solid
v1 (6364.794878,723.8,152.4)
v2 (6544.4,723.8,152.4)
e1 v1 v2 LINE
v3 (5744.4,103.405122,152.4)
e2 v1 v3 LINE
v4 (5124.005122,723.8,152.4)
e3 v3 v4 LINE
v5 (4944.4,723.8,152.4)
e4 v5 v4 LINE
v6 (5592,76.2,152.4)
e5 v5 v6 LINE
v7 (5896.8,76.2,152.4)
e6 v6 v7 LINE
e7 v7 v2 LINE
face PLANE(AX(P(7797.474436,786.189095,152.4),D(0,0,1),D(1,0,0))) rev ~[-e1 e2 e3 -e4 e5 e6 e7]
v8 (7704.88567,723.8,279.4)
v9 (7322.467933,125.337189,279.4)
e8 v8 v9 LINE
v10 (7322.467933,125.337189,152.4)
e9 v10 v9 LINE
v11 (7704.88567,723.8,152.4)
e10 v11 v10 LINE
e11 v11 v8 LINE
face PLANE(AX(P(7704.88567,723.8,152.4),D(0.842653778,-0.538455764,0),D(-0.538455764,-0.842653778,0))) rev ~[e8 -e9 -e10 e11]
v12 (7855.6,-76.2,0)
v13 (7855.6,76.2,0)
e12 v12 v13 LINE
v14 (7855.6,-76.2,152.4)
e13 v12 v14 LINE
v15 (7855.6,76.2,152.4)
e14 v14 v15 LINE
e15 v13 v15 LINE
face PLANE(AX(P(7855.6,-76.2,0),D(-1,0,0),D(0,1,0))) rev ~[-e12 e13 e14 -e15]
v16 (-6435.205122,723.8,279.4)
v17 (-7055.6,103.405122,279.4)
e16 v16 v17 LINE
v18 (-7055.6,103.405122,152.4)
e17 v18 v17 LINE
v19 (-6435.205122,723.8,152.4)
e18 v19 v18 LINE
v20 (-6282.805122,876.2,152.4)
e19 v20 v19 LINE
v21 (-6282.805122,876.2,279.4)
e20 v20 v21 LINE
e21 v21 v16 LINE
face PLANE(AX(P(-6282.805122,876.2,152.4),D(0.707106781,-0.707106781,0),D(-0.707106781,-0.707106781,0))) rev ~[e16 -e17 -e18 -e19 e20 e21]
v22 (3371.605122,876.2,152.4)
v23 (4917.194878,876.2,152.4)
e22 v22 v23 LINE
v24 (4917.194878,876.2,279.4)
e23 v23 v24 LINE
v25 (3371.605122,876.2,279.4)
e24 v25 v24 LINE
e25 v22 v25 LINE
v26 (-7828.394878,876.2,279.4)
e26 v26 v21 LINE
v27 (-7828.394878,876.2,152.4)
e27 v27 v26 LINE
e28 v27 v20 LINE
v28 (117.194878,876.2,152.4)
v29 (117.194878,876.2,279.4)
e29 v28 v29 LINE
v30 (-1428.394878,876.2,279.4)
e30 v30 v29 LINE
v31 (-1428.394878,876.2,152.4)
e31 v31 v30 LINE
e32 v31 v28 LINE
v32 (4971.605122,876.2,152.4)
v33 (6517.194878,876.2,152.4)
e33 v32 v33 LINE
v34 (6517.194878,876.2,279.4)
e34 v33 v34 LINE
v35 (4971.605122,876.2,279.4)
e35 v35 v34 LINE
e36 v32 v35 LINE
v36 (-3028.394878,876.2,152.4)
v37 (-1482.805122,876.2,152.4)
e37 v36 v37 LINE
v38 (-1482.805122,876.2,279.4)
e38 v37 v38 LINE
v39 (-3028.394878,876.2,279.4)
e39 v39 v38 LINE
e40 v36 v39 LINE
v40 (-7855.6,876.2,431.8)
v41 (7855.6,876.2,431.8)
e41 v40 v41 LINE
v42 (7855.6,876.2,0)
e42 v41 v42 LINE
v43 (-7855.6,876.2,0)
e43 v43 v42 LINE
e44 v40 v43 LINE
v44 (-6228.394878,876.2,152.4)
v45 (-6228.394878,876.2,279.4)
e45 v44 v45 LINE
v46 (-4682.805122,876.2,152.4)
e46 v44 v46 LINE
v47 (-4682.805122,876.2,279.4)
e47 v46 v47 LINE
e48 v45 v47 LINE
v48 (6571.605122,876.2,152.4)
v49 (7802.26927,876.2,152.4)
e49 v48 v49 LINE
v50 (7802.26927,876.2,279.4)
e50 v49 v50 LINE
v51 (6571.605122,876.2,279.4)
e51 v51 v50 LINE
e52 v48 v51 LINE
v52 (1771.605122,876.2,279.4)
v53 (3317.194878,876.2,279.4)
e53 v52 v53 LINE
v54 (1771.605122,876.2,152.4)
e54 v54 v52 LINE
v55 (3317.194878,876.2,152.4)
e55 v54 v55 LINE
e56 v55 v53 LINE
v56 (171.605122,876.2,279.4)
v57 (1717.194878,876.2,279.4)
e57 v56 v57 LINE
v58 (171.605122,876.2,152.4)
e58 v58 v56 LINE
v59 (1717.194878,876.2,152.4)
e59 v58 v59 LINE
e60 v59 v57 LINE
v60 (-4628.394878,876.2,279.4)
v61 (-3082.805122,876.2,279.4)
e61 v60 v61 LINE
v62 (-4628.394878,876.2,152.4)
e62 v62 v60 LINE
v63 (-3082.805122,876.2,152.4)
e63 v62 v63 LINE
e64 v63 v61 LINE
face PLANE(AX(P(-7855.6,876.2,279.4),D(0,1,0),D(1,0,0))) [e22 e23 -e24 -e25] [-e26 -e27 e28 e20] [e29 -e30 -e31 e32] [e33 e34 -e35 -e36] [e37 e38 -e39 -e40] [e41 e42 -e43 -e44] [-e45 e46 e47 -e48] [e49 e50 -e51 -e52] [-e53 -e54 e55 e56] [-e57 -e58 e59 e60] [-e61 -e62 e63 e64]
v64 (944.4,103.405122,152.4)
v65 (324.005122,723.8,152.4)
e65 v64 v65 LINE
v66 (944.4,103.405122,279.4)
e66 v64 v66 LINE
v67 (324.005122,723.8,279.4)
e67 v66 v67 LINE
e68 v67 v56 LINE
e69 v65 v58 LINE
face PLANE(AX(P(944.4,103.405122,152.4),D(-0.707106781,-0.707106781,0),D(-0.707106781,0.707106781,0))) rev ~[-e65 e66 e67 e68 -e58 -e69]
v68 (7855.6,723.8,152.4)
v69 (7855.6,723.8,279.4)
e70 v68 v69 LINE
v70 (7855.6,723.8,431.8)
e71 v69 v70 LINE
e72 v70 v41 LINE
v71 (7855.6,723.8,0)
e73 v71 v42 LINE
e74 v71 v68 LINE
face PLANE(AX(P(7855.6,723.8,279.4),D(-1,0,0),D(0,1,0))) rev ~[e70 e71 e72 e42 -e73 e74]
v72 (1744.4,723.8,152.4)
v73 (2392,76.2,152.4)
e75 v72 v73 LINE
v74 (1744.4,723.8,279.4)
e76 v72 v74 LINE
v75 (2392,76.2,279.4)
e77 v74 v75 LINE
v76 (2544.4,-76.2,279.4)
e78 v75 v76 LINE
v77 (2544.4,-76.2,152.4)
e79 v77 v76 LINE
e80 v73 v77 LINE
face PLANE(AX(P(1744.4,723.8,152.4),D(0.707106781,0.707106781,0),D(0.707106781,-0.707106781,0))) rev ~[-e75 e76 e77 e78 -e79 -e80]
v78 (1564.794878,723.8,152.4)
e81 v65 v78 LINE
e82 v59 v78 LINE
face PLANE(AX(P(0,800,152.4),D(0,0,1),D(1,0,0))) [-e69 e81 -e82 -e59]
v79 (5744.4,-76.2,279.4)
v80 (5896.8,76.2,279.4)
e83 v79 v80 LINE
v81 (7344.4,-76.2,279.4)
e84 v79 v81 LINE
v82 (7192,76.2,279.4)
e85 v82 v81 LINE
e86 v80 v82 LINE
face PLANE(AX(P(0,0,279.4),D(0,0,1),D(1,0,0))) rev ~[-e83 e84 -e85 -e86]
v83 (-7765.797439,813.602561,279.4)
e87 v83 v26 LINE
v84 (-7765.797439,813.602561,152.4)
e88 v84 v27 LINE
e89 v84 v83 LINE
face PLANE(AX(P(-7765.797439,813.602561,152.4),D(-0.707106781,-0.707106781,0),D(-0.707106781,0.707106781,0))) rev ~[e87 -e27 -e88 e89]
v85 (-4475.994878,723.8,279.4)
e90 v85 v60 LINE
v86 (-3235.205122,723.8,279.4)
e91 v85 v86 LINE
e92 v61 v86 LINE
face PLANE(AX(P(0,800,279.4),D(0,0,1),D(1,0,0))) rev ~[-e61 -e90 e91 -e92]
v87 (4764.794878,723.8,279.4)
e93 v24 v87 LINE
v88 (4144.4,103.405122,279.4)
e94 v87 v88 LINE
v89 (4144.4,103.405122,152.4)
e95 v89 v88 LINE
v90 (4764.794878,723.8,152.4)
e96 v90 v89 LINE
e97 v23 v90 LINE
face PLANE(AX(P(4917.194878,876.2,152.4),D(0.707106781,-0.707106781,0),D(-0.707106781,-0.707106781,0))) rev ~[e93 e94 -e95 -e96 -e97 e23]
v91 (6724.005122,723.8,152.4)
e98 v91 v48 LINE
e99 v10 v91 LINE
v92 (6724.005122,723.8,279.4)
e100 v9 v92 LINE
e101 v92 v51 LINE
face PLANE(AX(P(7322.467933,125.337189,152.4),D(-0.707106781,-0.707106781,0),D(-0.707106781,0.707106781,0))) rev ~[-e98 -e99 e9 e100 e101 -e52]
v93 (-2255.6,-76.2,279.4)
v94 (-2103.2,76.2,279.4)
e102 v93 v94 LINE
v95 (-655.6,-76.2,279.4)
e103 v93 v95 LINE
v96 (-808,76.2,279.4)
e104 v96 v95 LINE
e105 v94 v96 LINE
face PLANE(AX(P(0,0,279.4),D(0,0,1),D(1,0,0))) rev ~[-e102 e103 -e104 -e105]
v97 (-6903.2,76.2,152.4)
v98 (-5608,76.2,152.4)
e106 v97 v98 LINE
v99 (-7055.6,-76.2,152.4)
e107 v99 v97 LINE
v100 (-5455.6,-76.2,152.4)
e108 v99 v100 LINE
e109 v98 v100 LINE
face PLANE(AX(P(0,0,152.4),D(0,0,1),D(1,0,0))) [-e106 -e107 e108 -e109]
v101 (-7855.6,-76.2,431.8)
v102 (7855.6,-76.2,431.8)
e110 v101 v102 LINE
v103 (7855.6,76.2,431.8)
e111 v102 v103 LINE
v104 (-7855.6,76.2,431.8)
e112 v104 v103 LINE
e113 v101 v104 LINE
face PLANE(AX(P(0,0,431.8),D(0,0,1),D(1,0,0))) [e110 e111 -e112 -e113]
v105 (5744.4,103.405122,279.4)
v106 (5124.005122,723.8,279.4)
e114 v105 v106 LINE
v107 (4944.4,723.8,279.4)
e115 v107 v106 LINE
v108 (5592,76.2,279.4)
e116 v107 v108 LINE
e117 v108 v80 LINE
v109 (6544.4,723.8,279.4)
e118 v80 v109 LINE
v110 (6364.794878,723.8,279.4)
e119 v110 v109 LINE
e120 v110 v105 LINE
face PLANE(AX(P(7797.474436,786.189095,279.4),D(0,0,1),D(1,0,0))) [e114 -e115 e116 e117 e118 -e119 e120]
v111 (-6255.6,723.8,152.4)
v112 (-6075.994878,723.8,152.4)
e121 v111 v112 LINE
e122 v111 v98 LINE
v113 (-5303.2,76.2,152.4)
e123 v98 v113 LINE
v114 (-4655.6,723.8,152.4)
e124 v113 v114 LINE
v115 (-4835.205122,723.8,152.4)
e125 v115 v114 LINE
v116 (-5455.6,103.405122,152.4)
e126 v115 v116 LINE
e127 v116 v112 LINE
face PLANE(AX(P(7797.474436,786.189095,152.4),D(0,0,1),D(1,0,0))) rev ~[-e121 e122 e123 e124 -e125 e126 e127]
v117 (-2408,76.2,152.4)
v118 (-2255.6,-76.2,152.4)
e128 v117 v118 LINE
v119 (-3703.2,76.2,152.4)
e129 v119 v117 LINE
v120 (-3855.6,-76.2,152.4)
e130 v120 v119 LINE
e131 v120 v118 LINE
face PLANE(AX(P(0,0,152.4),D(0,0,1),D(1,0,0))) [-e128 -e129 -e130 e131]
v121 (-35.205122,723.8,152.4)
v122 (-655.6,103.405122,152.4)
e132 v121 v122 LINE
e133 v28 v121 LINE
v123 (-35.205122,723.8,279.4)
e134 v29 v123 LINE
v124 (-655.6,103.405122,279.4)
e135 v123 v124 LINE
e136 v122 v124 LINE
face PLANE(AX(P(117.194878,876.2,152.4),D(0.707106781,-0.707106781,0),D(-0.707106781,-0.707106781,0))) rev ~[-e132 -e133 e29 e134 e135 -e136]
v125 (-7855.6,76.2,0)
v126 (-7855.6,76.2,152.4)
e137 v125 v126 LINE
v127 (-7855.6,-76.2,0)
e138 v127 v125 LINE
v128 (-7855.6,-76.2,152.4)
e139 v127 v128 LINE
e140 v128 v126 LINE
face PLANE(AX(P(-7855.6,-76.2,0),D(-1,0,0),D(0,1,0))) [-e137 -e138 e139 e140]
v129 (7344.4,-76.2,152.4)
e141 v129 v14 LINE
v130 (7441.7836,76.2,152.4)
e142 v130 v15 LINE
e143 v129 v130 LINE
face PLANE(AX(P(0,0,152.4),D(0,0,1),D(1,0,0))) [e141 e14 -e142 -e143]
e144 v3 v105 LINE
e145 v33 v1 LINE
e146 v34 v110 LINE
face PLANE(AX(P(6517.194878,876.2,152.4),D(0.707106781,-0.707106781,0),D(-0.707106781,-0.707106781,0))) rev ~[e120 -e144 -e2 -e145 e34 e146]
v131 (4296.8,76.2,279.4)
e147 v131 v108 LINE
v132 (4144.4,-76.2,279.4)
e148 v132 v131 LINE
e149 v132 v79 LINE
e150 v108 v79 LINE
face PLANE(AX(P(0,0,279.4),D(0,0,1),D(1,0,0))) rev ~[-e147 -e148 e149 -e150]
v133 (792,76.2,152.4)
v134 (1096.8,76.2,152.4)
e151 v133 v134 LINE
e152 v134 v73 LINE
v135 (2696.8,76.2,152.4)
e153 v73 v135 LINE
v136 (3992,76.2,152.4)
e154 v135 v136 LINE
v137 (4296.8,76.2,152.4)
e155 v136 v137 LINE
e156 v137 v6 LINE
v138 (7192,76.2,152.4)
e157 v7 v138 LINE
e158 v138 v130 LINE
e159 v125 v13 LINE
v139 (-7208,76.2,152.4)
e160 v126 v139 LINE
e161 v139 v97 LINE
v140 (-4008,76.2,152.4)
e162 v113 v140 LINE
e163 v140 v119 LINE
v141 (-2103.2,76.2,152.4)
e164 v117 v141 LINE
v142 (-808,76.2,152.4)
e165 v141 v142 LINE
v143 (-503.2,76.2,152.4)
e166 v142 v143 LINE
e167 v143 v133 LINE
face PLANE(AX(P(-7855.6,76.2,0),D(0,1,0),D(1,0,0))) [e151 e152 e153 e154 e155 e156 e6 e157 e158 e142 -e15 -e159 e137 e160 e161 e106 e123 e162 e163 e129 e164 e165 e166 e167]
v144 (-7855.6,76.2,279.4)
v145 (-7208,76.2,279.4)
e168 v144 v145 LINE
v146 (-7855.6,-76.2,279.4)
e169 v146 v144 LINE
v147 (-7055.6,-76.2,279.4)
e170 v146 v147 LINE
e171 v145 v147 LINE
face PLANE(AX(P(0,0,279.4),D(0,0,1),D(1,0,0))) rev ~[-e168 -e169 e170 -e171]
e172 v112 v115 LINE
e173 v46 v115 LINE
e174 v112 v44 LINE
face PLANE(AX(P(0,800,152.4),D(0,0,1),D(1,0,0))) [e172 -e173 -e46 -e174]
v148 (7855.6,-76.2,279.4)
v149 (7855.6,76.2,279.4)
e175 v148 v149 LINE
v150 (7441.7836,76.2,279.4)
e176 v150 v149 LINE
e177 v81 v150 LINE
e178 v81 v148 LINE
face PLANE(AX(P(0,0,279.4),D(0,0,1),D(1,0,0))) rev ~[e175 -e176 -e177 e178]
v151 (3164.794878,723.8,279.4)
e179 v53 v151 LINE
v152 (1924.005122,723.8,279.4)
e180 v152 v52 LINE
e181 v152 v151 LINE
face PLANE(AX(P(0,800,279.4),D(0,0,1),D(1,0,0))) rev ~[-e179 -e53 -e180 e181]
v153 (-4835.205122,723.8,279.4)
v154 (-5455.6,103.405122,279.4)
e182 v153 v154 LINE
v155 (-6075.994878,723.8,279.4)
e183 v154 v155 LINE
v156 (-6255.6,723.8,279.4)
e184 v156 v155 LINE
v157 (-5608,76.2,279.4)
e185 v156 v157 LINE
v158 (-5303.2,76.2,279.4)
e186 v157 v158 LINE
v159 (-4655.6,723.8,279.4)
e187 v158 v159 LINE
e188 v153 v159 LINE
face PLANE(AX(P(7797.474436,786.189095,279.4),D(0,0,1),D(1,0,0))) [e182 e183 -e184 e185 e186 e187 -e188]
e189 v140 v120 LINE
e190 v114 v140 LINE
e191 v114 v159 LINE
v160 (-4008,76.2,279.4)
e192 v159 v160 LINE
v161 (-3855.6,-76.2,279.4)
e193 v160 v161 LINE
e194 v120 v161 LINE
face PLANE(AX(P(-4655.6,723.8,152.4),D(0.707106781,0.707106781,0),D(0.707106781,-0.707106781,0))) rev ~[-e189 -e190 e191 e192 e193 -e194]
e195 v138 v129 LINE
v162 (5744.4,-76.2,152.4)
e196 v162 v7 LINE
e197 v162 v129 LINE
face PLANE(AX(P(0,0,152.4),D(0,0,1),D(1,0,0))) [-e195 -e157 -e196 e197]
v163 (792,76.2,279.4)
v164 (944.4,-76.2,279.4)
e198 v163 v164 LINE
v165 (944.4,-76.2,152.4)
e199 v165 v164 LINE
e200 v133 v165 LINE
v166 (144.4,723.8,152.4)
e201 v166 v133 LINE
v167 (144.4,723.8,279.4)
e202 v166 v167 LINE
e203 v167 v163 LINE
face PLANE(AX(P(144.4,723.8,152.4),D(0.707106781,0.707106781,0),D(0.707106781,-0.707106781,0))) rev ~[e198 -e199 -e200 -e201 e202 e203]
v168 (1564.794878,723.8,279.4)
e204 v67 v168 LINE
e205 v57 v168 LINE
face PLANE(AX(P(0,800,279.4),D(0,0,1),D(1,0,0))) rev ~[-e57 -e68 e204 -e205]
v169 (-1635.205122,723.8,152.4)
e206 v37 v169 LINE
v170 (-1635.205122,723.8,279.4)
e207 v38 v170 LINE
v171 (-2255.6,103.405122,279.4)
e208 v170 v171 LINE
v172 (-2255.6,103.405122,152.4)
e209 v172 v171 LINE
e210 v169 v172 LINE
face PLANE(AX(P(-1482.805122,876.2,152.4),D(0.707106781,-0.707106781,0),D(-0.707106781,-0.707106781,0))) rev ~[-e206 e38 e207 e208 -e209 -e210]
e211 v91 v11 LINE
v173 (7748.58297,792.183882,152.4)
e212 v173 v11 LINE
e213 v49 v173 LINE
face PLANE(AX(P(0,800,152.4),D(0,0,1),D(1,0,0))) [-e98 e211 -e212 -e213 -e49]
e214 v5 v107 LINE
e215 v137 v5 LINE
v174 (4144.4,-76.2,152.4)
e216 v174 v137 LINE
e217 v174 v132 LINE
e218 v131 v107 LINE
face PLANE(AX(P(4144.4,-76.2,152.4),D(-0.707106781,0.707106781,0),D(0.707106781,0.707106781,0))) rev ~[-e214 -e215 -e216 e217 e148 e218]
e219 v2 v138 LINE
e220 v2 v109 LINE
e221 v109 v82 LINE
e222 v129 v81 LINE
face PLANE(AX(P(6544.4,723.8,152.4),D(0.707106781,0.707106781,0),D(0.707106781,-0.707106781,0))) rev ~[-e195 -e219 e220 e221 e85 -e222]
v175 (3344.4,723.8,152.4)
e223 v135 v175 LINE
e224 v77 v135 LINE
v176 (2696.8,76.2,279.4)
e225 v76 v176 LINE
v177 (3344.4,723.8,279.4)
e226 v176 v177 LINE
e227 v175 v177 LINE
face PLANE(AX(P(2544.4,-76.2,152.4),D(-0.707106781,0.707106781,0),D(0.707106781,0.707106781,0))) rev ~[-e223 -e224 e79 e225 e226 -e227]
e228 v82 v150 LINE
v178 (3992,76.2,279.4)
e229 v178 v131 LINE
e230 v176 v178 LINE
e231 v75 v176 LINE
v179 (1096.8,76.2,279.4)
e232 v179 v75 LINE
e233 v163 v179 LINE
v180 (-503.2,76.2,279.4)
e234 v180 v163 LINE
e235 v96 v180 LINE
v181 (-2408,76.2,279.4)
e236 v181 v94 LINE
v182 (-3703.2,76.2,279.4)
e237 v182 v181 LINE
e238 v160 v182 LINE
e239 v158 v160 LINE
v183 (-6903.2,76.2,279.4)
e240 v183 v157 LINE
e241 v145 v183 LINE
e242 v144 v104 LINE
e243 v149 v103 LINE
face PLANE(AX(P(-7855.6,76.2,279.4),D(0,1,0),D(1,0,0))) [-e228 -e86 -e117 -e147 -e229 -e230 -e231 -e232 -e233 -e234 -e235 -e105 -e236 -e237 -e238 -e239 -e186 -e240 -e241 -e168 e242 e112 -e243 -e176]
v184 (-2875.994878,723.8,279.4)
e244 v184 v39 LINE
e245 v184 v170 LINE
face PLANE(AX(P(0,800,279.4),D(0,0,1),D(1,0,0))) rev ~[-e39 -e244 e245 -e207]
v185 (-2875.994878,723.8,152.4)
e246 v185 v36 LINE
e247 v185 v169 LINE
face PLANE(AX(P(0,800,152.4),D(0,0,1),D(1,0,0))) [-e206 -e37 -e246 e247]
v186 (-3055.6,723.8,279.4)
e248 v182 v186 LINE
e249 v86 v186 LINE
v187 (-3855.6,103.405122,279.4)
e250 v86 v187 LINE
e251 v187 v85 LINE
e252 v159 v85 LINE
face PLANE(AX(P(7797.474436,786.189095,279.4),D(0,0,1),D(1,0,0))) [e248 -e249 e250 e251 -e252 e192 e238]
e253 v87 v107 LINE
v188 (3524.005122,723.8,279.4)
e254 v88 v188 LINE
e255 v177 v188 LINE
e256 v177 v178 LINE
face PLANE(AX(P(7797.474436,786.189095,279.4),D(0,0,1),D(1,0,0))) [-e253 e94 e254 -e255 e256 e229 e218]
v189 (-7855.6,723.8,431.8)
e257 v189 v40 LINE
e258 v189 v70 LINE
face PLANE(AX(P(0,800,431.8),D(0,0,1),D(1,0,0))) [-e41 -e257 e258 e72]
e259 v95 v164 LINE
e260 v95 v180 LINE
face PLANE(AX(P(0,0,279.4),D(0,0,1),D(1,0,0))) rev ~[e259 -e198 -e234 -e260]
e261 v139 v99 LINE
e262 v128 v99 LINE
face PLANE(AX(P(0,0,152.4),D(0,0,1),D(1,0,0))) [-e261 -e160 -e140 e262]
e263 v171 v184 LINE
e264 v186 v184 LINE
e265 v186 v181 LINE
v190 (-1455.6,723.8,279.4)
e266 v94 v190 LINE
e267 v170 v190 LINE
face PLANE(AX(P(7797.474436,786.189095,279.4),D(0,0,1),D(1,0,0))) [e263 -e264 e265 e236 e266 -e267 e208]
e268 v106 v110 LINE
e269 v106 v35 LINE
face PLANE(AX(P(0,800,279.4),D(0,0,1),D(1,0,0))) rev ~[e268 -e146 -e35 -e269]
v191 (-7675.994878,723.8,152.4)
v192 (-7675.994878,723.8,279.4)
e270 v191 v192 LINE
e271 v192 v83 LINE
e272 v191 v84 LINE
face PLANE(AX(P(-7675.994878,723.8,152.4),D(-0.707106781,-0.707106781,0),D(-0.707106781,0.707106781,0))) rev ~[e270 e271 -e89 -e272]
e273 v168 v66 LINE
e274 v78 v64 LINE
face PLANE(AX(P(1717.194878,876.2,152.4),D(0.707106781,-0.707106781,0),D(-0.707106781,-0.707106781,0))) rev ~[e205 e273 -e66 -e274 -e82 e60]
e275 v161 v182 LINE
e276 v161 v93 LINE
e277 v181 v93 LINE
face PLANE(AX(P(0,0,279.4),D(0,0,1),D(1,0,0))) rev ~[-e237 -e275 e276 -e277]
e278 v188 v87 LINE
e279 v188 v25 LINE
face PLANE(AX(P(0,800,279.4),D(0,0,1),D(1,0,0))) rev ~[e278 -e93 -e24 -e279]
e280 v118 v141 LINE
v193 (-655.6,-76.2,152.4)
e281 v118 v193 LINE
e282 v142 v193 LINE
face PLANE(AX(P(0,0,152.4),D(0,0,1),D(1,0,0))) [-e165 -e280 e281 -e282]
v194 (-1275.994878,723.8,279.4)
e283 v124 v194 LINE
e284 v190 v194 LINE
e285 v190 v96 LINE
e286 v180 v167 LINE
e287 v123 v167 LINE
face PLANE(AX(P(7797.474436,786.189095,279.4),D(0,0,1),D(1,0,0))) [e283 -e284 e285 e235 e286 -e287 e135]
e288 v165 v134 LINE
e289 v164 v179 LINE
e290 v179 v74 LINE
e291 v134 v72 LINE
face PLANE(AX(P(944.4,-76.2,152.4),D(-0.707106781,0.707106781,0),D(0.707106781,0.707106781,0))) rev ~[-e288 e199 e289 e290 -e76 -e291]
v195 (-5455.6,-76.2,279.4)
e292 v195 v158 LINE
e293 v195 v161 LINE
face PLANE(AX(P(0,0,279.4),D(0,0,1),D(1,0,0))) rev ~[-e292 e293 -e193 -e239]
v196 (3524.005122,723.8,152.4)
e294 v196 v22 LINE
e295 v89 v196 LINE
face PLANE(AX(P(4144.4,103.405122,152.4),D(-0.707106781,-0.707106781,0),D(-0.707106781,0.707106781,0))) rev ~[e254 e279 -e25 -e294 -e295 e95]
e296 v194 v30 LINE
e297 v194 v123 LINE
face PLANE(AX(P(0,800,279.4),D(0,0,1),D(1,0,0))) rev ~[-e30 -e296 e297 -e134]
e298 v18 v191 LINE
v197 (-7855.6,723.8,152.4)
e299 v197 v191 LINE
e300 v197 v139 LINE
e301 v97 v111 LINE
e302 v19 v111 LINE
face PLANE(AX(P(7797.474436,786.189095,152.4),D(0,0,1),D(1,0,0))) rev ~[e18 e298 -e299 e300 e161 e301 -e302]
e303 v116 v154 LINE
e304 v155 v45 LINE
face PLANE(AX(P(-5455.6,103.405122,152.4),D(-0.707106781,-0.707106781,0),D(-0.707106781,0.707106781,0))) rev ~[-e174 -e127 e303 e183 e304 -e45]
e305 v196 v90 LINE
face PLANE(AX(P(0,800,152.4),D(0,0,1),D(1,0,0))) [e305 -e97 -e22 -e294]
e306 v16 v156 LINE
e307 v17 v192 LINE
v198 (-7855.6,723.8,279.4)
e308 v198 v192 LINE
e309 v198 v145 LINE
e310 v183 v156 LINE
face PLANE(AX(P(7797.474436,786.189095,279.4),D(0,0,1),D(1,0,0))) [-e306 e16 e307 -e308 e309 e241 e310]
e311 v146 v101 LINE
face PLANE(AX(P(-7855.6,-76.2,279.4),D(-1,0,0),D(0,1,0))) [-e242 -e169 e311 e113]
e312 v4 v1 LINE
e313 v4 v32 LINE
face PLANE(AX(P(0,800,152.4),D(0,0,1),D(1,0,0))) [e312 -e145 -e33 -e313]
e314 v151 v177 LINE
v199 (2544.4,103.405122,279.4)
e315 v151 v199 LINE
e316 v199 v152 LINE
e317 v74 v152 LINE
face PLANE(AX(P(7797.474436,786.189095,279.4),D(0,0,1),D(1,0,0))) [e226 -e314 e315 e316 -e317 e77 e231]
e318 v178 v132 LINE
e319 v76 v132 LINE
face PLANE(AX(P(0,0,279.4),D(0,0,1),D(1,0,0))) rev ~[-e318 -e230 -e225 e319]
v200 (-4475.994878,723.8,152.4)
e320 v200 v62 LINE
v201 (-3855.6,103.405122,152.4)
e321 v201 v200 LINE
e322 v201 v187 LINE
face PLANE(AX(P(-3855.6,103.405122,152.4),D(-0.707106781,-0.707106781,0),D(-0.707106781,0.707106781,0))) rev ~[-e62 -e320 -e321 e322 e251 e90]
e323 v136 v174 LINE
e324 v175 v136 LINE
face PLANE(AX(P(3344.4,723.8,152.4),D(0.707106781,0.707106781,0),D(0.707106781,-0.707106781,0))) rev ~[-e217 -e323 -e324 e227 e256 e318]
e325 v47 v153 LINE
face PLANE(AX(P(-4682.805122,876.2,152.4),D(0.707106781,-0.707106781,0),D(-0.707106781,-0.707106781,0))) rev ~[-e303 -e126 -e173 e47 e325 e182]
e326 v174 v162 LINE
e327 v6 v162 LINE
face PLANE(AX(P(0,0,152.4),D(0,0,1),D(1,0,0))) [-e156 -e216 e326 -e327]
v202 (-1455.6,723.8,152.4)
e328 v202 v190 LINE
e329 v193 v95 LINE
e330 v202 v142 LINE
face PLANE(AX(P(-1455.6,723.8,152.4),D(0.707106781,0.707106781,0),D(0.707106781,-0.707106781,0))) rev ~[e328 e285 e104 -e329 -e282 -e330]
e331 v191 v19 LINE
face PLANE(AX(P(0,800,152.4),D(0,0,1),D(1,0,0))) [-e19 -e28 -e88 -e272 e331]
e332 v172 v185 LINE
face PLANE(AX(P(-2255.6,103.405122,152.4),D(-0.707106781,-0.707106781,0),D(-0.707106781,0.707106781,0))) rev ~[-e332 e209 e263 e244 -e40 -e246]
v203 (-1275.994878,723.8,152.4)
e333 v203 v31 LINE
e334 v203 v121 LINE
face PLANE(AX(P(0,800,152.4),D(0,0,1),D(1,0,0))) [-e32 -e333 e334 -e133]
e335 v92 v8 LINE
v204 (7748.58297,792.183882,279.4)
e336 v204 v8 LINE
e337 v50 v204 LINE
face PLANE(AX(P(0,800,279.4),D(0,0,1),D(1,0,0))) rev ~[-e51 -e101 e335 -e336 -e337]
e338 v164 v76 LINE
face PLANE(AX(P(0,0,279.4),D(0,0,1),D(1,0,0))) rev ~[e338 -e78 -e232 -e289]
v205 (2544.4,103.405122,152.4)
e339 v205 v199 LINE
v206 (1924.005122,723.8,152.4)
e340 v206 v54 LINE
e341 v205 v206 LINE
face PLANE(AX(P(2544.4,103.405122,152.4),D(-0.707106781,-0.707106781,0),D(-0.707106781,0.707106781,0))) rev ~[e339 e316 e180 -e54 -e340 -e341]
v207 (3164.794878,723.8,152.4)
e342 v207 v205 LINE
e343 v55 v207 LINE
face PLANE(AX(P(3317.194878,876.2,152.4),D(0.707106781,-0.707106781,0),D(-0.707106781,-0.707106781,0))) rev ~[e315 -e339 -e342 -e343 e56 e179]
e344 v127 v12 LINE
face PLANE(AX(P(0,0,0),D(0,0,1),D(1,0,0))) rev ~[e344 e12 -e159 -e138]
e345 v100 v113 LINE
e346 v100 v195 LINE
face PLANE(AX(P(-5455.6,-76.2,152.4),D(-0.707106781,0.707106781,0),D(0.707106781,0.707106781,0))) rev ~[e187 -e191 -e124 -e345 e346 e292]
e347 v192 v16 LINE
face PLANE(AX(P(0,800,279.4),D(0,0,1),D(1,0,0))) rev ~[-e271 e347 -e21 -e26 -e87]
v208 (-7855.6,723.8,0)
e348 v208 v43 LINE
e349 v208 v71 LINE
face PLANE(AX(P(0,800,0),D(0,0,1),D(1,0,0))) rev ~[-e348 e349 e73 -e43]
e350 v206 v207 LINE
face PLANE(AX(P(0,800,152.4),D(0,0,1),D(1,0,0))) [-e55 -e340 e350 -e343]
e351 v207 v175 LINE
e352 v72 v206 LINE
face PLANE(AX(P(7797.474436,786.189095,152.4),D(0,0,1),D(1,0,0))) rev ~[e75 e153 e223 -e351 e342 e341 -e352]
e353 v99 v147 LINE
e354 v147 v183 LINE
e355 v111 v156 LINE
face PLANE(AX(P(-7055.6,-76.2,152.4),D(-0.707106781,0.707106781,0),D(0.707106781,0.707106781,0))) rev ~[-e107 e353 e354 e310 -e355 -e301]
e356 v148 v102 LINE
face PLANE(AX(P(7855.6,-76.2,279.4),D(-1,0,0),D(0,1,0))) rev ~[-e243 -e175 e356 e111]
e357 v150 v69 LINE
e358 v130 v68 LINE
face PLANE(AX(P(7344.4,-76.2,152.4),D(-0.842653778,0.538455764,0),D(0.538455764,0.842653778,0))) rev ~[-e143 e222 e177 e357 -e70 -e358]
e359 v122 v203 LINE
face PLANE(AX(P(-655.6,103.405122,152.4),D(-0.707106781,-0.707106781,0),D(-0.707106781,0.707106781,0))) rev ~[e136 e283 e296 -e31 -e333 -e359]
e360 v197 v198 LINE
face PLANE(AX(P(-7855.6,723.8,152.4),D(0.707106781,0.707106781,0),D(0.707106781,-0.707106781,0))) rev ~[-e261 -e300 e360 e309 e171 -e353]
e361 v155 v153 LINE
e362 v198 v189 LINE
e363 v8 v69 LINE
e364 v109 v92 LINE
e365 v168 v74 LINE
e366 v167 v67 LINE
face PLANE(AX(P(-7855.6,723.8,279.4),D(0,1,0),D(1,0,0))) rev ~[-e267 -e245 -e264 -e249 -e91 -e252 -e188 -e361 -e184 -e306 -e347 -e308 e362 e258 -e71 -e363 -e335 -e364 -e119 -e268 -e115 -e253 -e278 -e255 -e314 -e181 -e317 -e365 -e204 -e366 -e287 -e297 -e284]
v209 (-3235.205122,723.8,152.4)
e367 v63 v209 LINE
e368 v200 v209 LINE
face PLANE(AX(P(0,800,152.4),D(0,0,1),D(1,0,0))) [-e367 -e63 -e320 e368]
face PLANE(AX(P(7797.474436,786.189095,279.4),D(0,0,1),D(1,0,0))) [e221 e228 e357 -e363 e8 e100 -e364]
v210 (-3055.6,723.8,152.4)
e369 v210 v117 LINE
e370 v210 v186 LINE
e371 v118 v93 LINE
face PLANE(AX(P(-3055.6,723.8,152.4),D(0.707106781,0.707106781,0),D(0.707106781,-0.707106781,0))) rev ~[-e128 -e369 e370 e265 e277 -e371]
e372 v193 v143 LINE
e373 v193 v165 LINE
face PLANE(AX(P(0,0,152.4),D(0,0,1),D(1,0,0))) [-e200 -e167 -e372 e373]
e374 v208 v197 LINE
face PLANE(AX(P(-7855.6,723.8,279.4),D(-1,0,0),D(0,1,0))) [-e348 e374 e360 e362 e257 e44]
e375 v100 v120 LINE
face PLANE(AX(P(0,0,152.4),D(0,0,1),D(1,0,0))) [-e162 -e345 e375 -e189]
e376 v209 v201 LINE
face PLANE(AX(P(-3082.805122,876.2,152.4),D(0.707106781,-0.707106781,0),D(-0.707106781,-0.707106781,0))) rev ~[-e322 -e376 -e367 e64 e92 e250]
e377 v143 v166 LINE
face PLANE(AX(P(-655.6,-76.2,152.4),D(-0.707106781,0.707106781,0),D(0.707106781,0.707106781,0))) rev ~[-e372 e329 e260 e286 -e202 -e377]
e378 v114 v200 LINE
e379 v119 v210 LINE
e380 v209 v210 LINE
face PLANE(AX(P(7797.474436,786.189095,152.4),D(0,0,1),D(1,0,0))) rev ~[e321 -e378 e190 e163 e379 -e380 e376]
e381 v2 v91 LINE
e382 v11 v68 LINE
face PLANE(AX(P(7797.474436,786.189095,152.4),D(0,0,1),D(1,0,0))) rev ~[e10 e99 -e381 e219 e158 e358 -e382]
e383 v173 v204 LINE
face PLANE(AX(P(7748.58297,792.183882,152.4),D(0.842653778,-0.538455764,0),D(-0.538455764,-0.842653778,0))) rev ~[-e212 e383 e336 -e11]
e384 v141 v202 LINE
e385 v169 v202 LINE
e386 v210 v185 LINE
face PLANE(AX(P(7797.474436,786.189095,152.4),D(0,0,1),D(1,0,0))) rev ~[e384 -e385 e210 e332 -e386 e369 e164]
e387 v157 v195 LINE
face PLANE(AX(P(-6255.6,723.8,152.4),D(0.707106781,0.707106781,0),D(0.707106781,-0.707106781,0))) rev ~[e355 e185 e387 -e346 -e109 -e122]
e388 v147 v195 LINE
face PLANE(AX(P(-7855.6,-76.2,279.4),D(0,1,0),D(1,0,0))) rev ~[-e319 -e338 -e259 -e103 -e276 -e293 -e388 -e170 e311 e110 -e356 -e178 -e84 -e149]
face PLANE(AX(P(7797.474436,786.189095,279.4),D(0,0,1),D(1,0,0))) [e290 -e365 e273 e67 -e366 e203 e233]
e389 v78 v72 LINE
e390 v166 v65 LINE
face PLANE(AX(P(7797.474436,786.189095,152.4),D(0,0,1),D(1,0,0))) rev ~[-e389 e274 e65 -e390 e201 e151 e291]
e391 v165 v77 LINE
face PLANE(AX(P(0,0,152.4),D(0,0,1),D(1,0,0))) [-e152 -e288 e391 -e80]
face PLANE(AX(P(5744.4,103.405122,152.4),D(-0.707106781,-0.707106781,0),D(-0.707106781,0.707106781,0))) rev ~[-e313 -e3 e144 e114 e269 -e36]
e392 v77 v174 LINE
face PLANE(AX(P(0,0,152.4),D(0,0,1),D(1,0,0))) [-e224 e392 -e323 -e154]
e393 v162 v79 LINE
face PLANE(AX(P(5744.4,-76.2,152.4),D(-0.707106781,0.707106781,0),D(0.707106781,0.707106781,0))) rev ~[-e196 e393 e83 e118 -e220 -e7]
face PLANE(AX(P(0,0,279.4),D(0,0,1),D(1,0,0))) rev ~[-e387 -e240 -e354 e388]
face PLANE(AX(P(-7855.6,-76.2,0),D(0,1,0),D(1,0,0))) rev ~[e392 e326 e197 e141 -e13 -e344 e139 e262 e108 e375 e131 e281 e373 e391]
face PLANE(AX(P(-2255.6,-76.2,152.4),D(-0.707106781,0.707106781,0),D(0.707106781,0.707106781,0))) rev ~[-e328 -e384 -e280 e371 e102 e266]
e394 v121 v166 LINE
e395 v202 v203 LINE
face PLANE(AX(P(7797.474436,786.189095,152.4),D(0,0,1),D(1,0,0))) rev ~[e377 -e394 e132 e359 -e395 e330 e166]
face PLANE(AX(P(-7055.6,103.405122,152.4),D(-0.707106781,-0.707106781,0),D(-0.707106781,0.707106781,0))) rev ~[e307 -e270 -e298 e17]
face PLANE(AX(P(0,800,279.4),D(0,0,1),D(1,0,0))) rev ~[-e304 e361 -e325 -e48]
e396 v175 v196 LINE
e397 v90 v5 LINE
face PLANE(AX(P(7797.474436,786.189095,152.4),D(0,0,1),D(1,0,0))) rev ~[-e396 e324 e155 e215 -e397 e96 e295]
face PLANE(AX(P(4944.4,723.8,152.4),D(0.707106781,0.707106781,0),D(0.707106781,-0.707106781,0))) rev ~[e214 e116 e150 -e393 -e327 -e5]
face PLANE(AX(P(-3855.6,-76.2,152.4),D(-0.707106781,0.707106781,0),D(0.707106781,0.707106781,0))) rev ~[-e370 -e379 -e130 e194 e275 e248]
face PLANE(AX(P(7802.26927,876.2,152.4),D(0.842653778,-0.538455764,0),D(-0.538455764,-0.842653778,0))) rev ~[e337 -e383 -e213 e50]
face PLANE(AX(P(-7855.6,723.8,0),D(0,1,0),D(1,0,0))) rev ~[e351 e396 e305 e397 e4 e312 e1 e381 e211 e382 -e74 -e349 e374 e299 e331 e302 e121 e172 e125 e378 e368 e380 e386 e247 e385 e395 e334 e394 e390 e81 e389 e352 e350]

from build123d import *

# Parameters (mm, degrees)
CROQUIS1_W                = 15711.2
CROQUIS1_H                = 152.4
SALIENTE_EXTRUIR1_DEPTH   = 152.4
SALIENTE_EXTRUIR1_2_DEPTH = 152.4
SALIENTE_EXTRUIR4_DEPTH   = 127
CROQUIS6_W                = 15711.2
CROQUIS6_H                = 152.4
SALIENTE_EXTRUIR5_DEPTH   = 152.4


with BuildPart() as part:
    # Croquis1 → Saliente-Extruir1 (new body)
    with BuildSketch(Plane.XY):
        Rectangle(CROQUIS1_W, CROQUIS1_H)
    extrude(amount=SALIENTE_EXTRUIR1_DEPTH)



with BuildPart() as body_2:
    # Croquis1 → Saliente-Extruir1 2 (new body)
    with BuildSketch(Plane.XY):
        with Locations((0, 800)):
            Rectangle(CROQUIS1_W, CROQUIS1_H)
    extrude(amount=SALIENTE_EXTRUIR1_2_DEPTH)


with BuildPart() as part_1:
    add(part.part)

    add(body_2.part)  # Saliente-Extruir4 merges body 2
    # Croquis5 → Saliente-Extruir4 (add)
    with BuildSketch(Plane.XY.offset(152.4)):
        Polygon((7704.88566953, 723.8), (7855.6, 723.8), (7855.6, 876.2), (7802.26926953, 876.2), (7748.582970168, 792.183882063), align=None)
        Polygon((6724.005122421, 723.8), (6544.4, 723.8), (7344.4, -76.2), (7855.6, 723.8), (7704.88566953, 723.8), (7322.467933348, 125.337189073), align=None)
        Polygon((6364.794877579, 723.8), (6544.4, 723.8), (6724.005122421, 723.8), (6571.605122421, 876.2), (6517.194877579, 876.2), align=None)
        Polygon((5124.005122421, 723.8), (4944.4, 723.8), (5744.4, -76.2), (6544.4, 723.8), (6364.794877579, 723.8), (5744.4, 103.405122421), align=None)
        Polygon((4764.794877579, 723.8), (4944.4, 723.8), (5124.005122421, 723.8), (4971.605122421, 876.2), (4917.194877579, 876.2), align=None)
        Polygon((3524.005122421, 723.8), (3344.4, 723.8), (4144.4, -76.2), (4944.4, 723.8), (4764.794877579, 723.8), (4144.4, 103.405122421), align=None)
        Polygon((3164.794877579, 723.8), (3344.4, 723.8), (3524.005122421, 723.8), (3371.605122421, 876.2), (3317.194877579, 876.2), align=None)
        Polygon((1924.005122421, 723.8), (1744.4, 723.8), (2544.4, -76.2), (3344.4, 723.8), (3164.794877579, 723.8), (2544.4, 103.405122421), align=None)
        Polygon((1564.794877579, 723.8), (1744.4, 723.8), (1924.005122421, 723.8), (1771.605122421, 876.2), (1717.194877579, 876.2), align=None)
        Polygon((324.005122421, 723.8), (144.4, 723.8), (944.4, -76.2), (1744.4, 723.8), (1564.794877579, 723.8), (944.4, 103.405122421), align=None)
        Polygon((-35.205122421, 723.8), (144.4, 723.8), (324.005122421, 723.8), (171.605122421, 876.2), (117.194877579, 876.2), align=None)
        Polygon((-1275.994877579, 723.8), (-1455.6, 723.8), (-655.6, -76.2), (144.4, 723.8), (-35.205122421, 723.8), (-655.6, 103.405122421), align=None)
        Polygon((-1635.205122421, 723.8), (-1455.6, 723.8), (-1275.994877579, 723.8), (-1428.394877579, 876.2), (-1482.805122421, 876.2), align=None)
        Polygon((-2875.994877579, 723.8), (-3055.6, 723.8), (-2255.6, -76.2), (-1455.6, 723.8), (-1635.205122421, 723.8), (-2255.6, 103.405122421), align=None)
        Polygon((-3235.205122421, 723.8), (-3055.6, 723.8), (-2875.994877579, 723.8), (-3028.394877579, 876.2), (-3082.805122421, 876.2), align=None)
        Polygon((-4475.994877579, 723.8), (-4655.6, 723.8), (-3855.6, -76.2), (-3055.6, 723.8), (-3235.205122421, 723.8), (-3855.6, 103.405122421), align=None)
        Polygon((-4835.205122421, 723.8), (-4655.6, 723.8), (-4475.994877579, 723.8), (-4628.394877579, 876.2), (-4682.805122421, 876.2), align=None)
        Polygon((-6075.994877579, 723.8), (-6255.6, 723.8), (-5455.6, -76.2), (-4655.6, 723.8), (-4835.205122421, 723.8), (-5455.6, 103.405122421), align=None)
        Polygon((-6435.205122421, 723.8), (-6255.6, 723.8), (-6075.994877579, 723.8), (-6228.394877579, 876.2), (-6282.805122421, 876.2), align=None)
        Polygon((-7675.994877579, 723.8), (-7855.6, 723.8), (-7055.6, -76.2), (-6255.6, 723.8), (-6435.205122421, 723.8), (-7055.6, 103.405122421), align=None)
        Polygon((-7855.6, 876.2), (-7855.6, 723.8), (-7675.994877579, 723.8), (-7765.797438789, 813.602561211), (-7828.394877579, 876.2), align=None)
    extrude(amount=SALIENTE_EXTRUIR4_DEPTH)

    # Croquis6 → Saliente-Extruir5 (add)
    with BuildSketch(Plane.XY.offset(279.4)):
        with Locations((0, 800)):
            Rectangle(CROQUIS6_W, CROQUIS6_H)
        Rectangle(CROQUIS6_W, CROQUIS6_H)
    extrude(amount=SALIENTE_EXTRUIR5_DEPTH)


solid = part_1.part
